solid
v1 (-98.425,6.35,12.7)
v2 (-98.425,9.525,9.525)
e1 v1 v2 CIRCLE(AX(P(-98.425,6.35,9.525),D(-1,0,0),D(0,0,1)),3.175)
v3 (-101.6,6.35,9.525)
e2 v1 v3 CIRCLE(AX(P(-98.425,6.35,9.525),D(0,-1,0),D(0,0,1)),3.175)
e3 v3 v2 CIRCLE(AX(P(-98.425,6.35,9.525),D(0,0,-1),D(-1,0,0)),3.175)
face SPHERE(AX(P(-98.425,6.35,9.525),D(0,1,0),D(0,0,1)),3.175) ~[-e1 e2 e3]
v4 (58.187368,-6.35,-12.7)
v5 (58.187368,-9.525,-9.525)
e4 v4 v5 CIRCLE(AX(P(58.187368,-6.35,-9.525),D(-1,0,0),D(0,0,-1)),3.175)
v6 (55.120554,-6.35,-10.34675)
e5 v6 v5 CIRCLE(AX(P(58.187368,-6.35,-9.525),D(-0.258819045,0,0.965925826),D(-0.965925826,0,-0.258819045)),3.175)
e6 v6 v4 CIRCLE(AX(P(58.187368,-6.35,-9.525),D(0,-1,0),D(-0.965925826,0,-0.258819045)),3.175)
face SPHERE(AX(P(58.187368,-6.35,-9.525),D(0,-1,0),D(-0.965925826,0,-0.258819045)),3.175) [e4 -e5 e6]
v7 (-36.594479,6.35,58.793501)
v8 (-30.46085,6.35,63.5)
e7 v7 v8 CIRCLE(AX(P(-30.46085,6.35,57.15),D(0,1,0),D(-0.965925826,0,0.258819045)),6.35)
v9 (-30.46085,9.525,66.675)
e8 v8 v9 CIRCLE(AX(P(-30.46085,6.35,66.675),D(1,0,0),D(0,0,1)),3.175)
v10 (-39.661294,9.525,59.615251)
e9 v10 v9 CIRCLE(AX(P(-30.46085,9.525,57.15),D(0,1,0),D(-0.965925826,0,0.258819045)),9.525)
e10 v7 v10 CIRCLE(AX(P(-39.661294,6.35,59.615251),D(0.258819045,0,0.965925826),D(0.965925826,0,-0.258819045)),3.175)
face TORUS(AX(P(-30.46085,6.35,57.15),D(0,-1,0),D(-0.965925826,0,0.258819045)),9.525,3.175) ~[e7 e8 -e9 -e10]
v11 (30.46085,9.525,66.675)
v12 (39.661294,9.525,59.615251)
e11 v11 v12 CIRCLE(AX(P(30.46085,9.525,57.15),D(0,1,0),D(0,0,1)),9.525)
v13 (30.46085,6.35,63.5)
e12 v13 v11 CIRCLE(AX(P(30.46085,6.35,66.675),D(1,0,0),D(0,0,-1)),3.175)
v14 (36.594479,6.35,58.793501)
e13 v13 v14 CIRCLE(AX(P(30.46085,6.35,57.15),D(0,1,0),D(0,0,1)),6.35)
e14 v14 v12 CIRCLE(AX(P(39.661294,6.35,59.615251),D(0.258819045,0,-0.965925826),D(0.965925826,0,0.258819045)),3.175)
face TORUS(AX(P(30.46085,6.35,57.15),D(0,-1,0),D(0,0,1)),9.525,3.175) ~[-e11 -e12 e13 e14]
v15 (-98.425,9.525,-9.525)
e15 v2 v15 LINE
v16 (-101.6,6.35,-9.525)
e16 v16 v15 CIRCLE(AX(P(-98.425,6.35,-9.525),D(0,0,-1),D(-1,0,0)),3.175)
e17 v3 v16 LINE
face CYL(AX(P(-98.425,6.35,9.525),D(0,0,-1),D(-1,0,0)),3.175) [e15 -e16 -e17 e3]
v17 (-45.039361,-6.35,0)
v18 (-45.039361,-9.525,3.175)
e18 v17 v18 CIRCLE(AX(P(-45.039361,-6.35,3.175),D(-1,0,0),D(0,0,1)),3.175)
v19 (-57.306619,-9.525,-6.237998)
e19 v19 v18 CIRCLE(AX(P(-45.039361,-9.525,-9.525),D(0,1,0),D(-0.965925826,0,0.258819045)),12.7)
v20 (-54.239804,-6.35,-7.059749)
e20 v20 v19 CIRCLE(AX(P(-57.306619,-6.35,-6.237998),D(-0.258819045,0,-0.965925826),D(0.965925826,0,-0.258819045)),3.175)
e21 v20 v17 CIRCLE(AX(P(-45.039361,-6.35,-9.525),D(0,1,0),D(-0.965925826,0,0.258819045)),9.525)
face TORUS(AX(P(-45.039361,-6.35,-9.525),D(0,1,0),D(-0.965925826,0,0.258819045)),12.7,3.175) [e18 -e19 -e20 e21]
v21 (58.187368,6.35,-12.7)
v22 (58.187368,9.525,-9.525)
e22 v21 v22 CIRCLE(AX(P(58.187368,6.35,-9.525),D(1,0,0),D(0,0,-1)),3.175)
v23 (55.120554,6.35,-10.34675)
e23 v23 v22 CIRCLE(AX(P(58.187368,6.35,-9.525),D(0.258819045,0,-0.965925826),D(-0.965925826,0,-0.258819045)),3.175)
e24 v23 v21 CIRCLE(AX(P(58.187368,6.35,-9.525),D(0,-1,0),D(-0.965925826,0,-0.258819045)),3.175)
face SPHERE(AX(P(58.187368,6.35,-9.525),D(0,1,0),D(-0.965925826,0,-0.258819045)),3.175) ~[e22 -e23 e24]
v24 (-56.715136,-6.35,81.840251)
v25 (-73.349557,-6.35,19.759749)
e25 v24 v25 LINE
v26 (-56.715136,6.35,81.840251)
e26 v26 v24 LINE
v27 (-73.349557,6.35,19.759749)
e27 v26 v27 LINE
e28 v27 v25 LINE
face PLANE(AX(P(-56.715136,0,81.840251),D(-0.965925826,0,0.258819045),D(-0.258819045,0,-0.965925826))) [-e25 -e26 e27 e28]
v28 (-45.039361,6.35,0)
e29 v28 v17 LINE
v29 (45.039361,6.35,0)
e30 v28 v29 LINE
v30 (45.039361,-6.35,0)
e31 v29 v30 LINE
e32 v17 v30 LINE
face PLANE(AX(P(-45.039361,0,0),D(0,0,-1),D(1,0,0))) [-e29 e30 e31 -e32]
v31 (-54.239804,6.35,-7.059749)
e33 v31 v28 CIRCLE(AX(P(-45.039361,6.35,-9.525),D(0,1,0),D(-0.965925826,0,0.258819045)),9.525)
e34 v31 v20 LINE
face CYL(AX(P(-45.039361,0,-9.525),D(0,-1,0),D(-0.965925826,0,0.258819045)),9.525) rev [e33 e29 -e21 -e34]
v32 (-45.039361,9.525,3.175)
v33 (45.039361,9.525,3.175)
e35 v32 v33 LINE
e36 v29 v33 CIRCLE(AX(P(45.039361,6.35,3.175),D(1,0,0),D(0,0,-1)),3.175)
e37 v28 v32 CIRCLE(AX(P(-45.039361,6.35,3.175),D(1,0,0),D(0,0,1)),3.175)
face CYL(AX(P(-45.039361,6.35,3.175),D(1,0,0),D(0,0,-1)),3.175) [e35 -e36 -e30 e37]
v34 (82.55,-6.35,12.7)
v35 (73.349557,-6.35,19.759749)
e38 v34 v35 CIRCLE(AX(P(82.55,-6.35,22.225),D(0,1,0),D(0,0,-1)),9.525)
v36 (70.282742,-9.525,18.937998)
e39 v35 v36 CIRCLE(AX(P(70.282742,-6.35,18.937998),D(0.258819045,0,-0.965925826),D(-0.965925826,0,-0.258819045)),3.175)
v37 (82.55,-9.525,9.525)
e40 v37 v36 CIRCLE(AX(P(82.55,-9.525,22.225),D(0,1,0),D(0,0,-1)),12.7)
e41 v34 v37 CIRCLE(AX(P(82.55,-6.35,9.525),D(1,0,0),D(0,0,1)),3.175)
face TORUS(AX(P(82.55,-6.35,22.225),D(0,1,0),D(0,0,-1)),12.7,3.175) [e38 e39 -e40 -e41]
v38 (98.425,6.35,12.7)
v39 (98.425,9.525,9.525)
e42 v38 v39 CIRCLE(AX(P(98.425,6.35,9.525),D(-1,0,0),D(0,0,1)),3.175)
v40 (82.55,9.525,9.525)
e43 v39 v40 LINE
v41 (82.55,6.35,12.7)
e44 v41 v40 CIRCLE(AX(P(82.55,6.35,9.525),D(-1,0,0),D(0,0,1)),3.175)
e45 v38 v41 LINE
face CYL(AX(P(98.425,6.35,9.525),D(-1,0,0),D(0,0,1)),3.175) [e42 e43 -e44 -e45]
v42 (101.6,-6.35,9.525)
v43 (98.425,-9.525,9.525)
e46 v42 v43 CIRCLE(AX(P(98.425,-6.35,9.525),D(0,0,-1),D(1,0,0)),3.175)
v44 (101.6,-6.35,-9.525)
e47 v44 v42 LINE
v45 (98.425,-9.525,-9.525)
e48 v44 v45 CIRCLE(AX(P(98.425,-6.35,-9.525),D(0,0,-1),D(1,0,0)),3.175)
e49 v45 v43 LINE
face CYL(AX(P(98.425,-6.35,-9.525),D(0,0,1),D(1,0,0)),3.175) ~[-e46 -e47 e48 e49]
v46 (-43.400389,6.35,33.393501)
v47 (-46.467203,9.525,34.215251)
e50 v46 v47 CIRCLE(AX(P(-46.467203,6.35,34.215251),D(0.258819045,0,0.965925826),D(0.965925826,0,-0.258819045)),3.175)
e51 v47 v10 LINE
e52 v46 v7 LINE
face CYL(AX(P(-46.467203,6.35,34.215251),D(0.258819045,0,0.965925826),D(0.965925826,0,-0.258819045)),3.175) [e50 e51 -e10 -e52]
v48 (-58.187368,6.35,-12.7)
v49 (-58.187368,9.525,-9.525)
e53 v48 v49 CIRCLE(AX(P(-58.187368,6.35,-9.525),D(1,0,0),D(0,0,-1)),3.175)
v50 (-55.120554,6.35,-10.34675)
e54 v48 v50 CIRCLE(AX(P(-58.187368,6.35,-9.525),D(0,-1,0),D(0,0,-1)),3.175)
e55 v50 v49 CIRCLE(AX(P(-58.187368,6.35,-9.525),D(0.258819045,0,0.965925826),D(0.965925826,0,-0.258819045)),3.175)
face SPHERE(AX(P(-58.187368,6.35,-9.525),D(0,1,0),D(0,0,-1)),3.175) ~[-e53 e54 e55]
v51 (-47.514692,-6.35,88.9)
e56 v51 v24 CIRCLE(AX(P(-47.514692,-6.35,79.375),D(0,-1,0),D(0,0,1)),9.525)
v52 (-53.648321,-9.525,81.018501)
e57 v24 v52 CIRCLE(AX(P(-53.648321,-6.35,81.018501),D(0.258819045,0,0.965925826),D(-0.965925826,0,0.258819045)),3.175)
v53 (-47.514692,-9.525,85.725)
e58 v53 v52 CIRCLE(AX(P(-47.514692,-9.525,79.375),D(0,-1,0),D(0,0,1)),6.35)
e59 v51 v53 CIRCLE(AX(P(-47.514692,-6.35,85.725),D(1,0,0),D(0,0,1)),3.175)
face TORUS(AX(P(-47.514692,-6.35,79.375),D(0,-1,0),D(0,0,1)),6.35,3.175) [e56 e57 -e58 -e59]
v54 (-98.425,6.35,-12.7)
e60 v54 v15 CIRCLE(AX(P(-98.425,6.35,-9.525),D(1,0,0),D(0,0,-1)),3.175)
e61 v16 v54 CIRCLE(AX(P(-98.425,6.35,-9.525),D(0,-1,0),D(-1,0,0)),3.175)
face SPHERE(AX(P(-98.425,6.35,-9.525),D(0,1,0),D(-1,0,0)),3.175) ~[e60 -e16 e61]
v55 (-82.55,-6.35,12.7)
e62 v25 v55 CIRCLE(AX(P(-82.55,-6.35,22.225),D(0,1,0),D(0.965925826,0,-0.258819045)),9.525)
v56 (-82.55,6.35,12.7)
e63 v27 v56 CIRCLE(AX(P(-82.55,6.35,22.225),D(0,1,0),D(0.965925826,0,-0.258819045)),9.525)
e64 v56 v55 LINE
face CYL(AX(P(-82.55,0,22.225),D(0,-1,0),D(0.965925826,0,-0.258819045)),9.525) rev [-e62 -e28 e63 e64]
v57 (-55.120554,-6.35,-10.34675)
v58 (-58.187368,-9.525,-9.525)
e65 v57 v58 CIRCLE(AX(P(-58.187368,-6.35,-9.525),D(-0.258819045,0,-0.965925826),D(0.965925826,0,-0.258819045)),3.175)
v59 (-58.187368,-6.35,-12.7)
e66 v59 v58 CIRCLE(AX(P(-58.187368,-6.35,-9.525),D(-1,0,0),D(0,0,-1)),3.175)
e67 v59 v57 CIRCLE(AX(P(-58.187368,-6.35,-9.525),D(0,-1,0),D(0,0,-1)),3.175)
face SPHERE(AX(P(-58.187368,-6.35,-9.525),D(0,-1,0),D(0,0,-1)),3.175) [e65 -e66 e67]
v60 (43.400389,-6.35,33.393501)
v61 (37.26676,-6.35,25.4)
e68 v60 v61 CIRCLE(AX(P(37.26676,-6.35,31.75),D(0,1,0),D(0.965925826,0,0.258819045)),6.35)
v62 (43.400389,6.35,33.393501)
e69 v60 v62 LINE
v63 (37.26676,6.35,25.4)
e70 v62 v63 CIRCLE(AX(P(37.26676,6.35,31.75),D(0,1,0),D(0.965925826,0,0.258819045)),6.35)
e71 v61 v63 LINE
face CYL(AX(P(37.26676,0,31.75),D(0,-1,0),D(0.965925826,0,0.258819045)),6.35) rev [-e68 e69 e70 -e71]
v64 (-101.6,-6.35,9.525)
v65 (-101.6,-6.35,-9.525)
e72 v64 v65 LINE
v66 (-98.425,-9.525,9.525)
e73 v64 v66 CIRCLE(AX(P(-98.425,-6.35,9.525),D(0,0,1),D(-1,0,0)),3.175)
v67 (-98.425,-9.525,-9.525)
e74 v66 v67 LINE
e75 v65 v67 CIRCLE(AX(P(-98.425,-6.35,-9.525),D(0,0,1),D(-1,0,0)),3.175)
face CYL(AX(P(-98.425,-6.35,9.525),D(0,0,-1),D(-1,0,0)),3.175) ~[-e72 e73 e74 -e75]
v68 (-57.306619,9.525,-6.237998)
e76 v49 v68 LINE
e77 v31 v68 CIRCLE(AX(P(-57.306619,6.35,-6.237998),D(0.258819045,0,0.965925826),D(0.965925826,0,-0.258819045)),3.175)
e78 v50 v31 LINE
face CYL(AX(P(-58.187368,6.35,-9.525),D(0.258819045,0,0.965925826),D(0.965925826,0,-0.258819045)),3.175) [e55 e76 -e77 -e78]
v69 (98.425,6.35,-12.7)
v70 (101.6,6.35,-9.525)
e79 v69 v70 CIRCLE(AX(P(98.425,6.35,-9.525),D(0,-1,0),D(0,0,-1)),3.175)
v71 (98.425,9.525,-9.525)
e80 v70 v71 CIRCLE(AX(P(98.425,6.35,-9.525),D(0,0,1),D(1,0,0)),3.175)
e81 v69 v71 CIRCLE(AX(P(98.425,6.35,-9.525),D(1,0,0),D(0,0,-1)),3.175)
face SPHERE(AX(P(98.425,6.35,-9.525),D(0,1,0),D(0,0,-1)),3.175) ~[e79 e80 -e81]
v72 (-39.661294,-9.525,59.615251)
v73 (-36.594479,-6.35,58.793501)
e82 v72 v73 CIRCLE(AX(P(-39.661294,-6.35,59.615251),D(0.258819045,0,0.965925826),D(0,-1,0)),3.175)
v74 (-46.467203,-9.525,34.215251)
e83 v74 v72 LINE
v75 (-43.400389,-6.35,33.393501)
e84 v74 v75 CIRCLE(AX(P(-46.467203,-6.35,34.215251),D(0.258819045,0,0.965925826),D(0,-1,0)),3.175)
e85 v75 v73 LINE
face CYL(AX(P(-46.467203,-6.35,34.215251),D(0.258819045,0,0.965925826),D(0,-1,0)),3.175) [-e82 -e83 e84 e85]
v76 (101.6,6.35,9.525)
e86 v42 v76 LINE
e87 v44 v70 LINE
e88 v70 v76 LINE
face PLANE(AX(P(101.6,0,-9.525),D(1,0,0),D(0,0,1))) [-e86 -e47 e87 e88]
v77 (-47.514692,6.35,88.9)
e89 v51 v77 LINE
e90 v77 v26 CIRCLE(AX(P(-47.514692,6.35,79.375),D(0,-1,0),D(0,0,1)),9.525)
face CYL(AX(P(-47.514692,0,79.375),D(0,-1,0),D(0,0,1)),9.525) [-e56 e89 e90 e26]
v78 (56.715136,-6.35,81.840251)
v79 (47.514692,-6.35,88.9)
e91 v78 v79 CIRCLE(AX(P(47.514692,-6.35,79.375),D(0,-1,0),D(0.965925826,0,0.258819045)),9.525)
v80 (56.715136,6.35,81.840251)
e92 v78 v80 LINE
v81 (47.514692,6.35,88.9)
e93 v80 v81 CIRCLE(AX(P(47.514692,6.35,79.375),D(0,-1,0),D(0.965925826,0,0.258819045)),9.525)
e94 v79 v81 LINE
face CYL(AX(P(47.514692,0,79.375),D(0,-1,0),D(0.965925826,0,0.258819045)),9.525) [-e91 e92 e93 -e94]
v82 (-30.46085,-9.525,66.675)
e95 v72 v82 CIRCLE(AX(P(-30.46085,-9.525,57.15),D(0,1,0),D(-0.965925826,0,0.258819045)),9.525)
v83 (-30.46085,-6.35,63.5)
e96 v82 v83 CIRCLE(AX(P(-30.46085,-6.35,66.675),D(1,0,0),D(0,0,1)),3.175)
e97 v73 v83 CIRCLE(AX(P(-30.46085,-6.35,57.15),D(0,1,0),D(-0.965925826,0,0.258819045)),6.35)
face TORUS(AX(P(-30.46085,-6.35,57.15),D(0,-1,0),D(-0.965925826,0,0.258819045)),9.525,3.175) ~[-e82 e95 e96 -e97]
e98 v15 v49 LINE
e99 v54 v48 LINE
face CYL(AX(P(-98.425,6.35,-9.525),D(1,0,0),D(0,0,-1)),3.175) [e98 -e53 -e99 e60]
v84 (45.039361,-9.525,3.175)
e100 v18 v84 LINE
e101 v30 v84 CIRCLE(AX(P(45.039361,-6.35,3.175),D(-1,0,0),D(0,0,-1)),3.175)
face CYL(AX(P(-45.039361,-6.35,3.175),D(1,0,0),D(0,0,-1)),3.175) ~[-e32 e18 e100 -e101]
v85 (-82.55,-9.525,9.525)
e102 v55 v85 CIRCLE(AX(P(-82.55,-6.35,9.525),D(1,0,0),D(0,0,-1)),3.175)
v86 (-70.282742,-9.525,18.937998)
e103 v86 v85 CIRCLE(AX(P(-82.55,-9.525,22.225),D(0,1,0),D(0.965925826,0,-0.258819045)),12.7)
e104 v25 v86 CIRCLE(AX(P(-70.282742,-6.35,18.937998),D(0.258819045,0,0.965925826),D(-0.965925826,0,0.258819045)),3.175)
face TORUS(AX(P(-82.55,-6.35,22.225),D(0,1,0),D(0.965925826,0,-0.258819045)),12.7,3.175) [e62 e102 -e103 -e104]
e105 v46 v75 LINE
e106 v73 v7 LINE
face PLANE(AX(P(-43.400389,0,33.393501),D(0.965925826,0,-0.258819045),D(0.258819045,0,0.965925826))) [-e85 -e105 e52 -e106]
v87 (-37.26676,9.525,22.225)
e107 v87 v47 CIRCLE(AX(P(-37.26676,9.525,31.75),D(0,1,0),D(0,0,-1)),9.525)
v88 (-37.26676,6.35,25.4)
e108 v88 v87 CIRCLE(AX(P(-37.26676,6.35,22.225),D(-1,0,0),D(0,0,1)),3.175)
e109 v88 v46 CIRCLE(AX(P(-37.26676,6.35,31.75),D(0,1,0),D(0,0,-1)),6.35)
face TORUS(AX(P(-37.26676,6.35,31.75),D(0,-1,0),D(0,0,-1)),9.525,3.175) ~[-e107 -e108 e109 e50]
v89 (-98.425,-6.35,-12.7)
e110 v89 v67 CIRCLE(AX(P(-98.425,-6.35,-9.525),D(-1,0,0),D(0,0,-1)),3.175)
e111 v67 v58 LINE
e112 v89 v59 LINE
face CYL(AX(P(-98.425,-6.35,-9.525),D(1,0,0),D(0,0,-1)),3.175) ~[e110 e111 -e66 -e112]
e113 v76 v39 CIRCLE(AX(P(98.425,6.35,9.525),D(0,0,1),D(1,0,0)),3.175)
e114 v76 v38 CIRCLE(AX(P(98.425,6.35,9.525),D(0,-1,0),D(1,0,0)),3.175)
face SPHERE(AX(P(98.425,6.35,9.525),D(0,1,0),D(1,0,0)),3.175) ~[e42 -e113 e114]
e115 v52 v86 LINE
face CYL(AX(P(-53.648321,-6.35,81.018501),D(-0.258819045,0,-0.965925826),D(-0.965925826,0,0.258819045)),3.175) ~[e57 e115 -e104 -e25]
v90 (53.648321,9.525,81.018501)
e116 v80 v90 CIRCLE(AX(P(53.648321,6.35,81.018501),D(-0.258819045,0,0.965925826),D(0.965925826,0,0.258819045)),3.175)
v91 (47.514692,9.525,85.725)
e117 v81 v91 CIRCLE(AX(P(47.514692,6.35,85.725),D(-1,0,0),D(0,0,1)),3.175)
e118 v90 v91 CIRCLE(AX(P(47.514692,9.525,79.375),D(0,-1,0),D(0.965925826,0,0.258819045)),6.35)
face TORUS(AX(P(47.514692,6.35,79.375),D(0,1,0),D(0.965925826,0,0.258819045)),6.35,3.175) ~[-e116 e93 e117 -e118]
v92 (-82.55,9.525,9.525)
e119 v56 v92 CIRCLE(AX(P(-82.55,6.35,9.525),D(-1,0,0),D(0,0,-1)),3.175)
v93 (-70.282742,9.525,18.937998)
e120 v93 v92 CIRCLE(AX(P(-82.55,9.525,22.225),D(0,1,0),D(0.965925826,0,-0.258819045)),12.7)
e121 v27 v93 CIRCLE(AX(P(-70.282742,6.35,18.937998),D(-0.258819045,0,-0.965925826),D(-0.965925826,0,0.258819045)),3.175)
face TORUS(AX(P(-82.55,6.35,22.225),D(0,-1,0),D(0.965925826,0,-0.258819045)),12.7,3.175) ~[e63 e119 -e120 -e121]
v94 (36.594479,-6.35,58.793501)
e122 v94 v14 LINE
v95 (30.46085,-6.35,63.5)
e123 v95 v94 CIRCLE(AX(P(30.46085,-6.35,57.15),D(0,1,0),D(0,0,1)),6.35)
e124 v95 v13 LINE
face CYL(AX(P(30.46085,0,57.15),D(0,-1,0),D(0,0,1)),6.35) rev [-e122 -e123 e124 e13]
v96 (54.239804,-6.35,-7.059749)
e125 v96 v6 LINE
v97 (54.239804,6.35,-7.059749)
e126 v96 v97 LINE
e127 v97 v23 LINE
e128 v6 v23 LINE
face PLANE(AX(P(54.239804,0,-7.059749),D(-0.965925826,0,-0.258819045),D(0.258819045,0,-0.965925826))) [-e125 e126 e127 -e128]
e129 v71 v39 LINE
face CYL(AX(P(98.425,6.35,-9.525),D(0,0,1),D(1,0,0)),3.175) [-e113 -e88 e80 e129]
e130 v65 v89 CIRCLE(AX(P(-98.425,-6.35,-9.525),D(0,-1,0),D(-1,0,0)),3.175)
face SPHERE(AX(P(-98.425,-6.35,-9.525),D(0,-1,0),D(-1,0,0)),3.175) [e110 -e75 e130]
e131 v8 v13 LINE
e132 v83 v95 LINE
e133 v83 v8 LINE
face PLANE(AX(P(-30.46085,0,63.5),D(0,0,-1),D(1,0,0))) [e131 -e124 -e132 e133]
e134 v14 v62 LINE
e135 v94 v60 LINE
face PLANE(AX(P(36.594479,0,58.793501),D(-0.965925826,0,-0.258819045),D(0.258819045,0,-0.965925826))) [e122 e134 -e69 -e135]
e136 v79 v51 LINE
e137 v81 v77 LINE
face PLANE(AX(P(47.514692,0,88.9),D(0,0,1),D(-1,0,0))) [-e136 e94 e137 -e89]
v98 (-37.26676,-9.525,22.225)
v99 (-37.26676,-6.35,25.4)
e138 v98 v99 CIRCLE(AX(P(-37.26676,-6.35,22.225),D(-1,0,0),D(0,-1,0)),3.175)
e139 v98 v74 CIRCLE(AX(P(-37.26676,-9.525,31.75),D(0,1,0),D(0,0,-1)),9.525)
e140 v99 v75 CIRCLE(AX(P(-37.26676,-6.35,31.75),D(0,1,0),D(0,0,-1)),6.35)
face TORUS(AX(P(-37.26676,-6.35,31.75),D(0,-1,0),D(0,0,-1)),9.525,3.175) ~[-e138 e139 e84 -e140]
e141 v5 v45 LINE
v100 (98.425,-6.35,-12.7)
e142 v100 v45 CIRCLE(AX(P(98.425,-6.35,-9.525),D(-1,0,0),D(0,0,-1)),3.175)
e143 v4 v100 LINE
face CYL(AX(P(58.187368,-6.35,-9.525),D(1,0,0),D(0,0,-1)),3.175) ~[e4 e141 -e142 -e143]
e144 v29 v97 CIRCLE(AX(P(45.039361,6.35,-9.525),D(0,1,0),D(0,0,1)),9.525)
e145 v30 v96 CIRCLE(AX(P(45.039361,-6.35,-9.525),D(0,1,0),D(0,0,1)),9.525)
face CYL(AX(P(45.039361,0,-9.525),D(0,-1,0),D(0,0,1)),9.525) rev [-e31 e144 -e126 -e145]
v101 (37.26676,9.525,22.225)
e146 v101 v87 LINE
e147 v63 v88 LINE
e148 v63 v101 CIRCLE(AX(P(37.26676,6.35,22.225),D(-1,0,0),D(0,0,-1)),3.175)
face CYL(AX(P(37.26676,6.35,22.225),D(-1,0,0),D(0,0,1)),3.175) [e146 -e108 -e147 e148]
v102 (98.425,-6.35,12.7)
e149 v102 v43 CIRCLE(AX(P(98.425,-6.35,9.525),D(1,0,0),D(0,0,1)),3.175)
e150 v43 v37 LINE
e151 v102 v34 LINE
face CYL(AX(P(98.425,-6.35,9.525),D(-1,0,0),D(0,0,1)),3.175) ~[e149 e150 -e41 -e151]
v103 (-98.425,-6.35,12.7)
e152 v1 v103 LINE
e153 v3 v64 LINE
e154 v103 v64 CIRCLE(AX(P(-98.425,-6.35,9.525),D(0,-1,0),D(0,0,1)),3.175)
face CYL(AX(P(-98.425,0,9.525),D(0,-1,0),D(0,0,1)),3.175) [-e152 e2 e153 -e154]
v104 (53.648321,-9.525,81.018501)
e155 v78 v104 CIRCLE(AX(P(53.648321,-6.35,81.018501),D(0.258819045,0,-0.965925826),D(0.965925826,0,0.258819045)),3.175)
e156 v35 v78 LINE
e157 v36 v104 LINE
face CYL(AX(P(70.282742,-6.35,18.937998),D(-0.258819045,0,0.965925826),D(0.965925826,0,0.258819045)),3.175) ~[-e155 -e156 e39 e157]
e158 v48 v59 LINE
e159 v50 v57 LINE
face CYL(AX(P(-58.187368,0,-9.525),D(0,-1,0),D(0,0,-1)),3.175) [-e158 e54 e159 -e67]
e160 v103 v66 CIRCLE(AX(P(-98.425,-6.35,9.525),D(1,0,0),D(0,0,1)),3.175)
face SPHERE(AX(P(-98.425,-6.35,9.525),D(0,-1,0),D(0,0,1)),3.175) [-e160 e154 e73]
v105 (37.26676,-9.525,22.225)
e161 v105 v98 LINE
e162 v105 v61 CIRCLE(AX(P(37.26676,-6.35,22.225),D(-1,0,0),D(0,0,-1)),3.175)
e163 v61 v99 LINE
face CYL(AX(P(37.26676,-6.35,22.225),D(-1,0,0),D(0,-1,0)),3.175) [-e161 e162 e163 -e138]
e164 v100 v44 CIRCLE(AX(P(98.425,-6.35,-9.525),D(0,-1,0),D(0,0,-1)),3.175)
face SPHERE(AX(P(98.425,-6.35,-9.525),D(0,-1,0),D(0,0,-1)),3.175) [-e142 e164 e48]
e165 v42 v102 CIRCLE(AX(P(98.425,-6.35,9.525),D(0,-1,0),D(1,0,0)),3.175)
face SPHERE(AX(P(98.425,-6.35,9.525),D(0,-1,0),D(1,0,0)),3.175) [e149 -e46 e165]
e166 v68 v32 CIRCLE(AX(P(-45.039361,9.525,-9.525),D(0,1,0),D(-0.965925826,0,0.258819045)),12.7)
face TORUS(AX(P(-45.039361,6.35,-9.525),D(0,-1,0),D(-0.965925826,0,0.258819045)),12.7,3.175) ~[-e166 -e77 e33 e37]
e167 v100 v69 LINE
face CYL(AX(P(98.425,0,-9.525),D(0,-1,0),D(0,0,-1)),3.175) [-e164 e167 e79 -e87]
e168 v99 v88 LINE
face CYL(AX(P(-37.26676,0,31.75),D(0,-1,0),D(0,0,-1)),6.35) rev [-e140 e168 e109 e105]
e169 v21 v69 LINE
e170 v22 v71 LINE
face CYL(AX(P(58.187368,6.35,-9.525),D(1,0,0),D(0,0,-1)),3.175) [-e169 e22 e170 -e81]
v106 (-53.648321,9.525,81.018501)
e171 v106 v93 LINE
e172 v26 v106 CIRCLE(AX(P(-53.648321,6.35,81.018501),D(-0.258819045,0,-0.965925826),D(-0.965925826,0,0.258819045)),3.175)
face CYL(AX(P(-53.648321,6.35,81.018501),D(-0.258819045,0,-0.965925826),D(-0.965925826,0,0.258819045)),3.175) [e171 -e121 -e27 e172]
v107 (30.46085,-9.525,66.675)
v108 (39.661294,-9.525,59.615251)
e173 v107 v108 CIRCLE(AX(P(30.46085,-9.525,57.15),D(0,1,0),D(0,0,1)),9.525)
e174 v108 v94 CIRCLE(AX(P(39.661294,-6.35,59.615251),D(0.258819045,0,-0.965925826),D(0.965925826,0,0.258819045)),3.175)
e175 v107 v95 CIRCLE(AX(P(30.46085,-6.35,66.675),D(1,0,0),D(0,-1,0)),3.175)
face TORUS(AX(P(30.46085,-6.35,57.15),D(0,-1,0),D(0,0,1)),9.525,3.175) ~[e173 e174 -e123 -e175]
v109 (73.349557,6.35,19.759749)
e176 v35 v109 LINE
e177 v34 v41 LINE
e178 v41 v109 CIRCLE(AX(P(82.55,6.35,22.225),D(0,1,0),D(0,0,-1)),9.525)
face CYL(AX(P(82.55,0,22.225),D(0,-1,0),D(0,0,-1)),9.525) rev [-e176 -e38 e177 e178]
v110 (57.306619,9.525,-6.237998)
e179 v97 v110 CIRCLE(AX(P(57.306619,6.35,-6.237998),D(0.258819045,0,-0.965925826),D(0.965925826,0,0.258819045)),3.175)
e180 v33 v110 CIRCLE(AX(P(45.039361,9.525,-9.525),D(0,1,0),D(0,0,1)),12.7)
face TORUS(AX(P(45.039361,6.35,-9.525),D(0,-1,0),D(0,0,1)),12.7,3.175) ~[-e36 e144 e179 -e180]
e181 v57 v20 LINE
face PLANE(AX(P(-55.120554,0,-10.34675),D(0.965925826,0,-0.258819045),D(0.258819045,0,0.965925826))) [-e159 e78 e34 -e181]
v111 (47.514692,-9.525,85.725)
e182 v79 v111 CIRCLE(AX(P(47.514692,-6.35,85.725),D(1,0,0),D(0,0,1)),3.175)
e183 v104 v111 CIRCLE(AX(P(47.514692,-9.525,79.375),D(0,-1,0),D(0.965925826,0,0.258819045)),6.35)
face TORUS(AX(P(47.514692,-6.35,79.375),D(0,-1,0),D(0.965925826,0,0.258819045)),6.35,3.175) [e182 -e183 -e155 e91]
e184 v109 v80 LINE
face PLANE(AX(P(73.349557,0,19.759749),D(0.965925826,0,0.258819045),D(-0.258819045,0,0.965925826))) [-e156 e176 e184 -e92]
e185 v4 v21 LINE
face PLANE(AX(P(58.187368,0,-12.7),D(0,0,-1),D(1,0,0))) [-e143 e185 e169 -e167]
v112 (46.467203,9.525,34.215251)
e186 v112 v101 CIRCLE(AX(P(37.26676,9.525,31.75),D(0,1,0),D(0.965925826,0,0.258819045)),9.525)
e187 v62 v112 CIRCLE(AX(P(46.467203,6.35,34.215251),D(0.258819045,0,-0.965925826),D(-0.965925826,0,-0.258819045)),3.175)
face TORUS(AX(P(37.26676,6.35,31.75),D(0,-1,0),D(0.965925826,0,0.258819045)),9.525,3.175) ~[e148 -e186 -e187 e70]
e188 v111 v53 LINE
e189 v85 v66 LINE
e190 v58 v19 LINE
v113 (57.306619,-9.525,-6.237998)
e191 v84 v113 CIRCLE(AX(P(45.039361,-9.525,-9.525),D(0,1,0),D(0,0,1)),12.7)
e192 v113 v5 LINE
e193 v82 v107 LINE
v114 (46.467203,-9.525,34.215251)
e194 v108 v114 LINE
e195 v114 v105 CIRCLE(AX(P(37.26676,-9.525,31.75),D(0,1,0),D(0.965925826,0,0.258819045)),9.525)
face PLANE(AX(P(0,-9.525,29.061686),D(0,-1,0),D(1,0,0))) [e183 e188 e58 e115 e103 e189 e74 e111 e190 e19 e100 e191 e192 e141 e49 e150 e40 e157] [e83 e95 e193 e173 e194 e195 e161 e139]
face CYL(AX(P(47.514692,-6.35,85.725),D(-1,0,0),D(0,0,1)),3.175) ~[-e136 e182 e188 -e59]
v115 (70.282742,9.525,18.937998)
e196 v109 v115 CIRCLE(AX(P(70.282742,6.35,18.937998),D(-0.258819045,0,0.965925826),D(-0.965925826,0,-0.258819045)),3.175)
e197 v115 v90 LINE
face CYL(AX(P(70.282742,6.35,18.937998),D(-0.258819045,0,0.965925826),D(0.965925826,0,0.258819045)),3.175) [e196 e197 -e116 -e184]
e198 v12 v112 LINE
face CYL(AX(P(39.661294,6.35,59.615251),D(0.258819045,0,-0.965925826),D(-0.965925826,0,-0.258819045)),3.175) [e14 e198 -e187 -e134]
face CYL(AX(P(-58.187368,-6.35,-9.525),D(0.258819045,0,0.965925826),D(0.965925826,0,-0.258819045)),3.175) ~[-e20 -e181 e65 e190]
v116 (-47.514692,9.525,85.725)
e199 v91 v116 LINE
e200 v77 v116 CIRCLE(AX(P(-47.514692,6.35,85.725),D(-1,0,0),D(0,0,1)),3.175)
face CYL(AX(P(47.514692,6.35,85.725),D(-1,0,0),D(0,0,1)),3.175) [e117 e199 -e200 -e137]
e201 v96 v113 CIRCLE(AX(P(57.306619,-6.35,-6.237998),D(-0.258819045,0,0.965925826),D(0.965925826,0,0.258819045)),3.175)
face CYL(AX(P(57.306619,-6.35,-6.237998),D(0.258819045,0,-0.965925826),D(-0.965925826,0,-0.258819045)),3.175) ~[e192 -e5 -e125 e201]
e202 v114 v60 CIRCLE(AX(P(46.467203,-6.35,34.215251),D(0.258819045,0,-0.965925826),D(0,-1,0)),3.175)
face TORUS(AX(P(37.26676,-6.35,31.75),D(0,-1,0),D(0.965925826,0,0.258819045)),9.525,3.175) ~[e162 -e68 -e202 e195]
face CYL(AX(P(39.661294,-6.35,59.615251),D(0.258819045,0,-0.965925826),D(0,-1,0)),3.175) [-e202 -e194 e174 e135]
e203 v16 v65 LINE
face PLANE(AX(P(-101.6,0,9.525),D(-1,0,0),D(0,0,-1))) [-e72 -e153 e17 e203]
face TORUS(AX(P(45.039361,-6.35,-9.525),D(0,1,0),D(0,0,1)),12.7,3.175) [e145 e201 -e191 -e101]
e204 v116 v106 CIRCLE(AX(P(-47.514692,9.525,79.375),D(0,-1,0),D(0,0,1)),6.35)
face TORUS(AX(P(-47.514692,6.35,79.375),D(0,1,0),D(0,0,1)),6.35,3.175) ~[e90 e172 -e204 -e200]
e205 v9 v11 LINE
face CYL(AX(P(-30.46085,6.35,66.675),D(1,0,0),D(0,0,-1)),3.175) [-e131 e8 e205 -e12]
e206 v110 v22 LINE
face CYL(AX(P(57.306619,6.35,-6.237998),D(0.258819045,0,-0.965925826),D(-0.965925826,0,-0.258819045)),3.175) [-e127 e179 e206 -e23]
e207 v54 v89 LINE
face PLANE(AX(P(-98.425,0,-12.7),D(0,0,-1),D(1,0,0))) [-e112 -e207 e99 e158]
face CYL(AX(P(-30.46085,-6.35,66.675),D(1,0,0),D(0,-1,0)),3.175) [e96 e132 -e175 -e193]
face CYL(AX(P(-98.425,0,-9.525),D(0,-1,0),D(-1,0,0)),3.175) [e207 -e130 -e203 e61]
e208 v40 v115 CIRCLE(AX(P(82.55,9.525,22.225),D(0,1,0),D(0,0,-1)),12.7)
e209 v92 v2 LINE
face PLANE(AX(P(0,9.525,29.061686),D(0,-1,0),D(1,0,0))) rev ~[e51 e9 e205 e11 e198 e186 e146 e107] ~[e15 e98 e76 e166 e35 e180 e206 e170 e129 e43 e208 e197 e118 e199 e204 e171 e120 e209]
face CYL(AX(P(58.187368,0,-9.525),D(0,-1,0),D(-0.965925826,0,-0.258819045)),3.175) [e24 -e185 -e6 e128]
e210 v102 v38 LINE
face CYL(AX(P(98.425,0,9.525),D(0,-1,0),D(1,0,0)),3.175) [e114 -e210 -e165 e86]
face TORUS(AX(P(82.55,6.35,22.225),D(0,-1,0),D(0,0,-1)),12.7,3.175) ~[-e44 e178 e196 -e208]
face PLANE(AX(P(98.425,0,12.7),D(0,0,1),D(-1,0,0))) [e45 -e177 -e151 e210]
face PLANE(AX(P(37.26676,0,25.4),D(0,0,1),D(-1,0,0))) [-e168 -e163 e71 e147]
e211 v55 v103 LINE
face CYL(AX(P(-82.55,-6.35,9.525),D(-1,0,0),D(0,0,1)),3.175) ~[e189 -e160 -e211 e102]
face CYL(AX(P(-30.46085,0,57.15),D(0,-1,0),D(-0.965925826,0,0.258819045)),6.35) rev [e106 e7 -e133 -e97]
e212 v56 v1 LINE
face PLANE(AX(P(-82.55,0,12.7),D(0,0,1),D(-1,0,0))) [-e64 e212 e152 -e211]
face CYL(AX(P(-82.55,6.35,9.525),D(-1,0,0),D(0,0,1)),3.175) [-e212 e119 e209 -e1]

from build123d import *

# Parameters (mm, degrees)
F1_DEPTH = 9.525
F2_R     = 3.175


with BuildPart() as f1:
    # F0 (on Front) → F1 (new body, symmetric)
    with BuildSketch(Plane.XZ):
        with BuildLine():
            ThreePointArc((-47.5146924157, 88.9), (-53.3131450271, 86.9316905663), (-56.7151359112, 81.8402514046))
            Line((-56.7151359112, 81.8402514046), (-73.3495565046, 19.7597485954))
            ThreePointArc((-73.3495565046, 19.7597485954), (-76.7515473887, 14.6683094337), (-82.55, 12.7))
            Line((-82.55, 12.7), (-98.425, 12.7))
            ThreePointArc((-98.425, 12.7), (-100.6700640303, 11.7700640303), (-101.6, 9.525))
            Line((-101.6, 9.525), (-101.6, -9.525))
            ThreePointArc((-101.6, -9.525), (-100.6700640303, -11.7700640303), (-98.425, -12.7))
            Line((-98.425, -12.7), (-58.1873681317, -12.7))
            ThreePointArc((-58.1873681317, -12.7), (-56.2545505946, -12.0438968554), (-55.1205536332, -10.3467504682))
            Line((-55.1205536332, -10.3467504682), (-54.2398041359, -7.0597485954))
            ThreePointArc((-54.2398041359, -7.0597485954), (-50.8378132518, -1.9683094337), (-45.0393606405, 0))
            Line((-45.0393606405, 0), (45.0393606405, 0))
            ThreePointArc((45.0393606405, 0), (50.8378132518, -1.9683094337), (54.2398041359, -7.0597485954))
            Line((54.2398041359, -7.0597485954), (55.1205536332, -10.3467504682))
            ThreePointArc((55.1205536332, -10.3467504682), (56.2545505946, -12.0438968554), (58.1873681317, -12.7))
            Line((58.1873681317, -12.7), (98.425, -12.7))
            ThreePointArc((98.425, -12.7), (100.6700640303, -11.7700640303), (101.6, -9.525))
            Line((101.6, -9.525), (101.6, 9.525))
            ThreePointArc((101.6, 9.525), (100.6700640303, 11.7700640303), (98.425, 12.7))
            Line((98.425, 12.7), (82.55, 12.7))
            ThreePointArc((82.55, 12.7), (76.7515473887, 14.6683094337), (73.3495565046, 19.7597485954))
            Line((73.3495565046, 19.7597485954), (56.7151359112, 81.8402514046))
            ThreePointArc((56.7151359112, 81.8402514046), (53.3131450271, 86.9316905663), (47.5146924157, 88.9))
            Line((47.5146924157, 88.9), (-47.5146924157, 88.9))
        make_face()
        with BuildLine():
            Line((-43.4003885926, 33.3935009364), (-36.5944791049, 58.7935009364))
            ThreePointArc((-36.5944791049, 58.7935009364), (-34.3264851821, 62.1877937108), (-30.4608501079, 63.5))
            Line((-30.4608501079, 63.5), (30.4608501079, 63.5))
            ThreePointArc((30.4608501079, 63.5), (34.3264851821, 62.1877937108), (36.5944791049, 58.7935009364))
            Line((36.5944791049, 58.7935009364), (43.4003885926, 33.3935009364))
            ThreePointArc((43.4003885926, 33.3935009364), (42.3045533065, 27.8843649258), (37.2667595957, 25.4))
            Line((37.2667595957, 25.4), (-37.2667595957, 25.4))
            ThreePointArc((-37.2667595957, 25.4), (-42.3045533065, 27.8843649258), (-43.4003885926, 33.3935009364))
        make_face(mode=Mode.SUBTRACT)
    extrude(amount=F1_DEPTH, both=True)

    # F2
    f2_edges = [f1.edges().sort_by_distance(p)[0] for p in [
        (53.313145, -9.525, 86.931691),
        (0, -9.525, 88.9),
        (-53.313145, -9.525, 86.931691),
        (-65.032346, -9.525, 50.8),
        (-76.751547, -9.525, 14.668309),
        (-90.4875, -9.525, 12.7),
        (-100.670064, -9.525, 11.770064),
        (-101.6, -9.525, 0),
        (-100.670064, -9.525, -11.770064),
        (-78.306184, -9.525, -12.7),
        (-56.254551, -9.525, -12.043897),
        (-54.680179, -9.525, -8.70325),
        (-50.837813, -9.525, -1.968309),
        (0, -9.525, 0),
        (50.837813, -9.525, -1.968309),
        (54.680179, -9.525, -8.70325),
        (56.254551, -9.525, -12.043897),
        (78.306184, -9.525, -12.7),
        (100.670064, -9.525, -11.770064),
        (101.6, -9.525, 0),
        (100.670064, -9.525, 11.770064),
        (90.4875, -9.525, 12.7),
        (76.751547, -9.525, 14.668309),
        (65.032346, -9.525, 50.8),
        (-39.997434, -9.525, 46.093501),
        (-34.326485, -9.525, 62.187794),
        (0, -9.525, 63.5),
        (34.326485, -9.525, 62.187794),
        (39.997434, -9.525, 46.093501),
        (42.304553, -9.525, 27.884365),
        (0, -9.525, 25.4),
        (-42.304553, -9.525, 27.884365),
        (53.313145, 9.525, 86.931691),
        (0, 9.525, 88.9),
        (-53.313145, 9.525, 86.931691),
        (-65.032346, 9.525, 50.8),
        (-76.751547, 9.525, 14.668309),
        (-90.4875, 9.525, 12.7),
        (-100.670064, 9.525, 11.770064),
        (-101.6, 9.525, 0),
        (-100.670064, 9.525, -11.770064),
        (-78.306184, 9.525, -12.7),
        (-56.254551, 9.525, -12.043897),
        (-54.680179, 9.525, -8.70325),
        (-50.837813, 9.525, -1.968309),
        (0, 9.525, 0),
        (50.837813, 9.525, -1.968309),
        (54.680179, 9.525, -8.70325),
        (56.254551, 9.525, -12.043897),
        (78.306184, 9.525, -12.7),
        (100.670064, 9.525, -11.770064),
        (101.6, 9.525, 0),
        (100.670064, 9.525, 11.770064),
        (90.4875, 9.525, 12.7),
        (76.751547, 9.525, 14.668309),
        (65.032346, 9.525, 50.8),
        (-39.997434, 9.525, 46.093501),
        (-34.326485, 9.525, 62.187794),
        (0, 9.525, 63.5),
        (34.326485, 9.525, 62.187794),
        (39.997434, 9.525, 46.093501),
        (42.304553, 9.525, 27.884365),
        (0, 9.525, 25.4),
        (-42.304553, 9.525, 27.884365),
    ]]
    fillet(f2_edges, radius=F2_R)


solid = f1.part
